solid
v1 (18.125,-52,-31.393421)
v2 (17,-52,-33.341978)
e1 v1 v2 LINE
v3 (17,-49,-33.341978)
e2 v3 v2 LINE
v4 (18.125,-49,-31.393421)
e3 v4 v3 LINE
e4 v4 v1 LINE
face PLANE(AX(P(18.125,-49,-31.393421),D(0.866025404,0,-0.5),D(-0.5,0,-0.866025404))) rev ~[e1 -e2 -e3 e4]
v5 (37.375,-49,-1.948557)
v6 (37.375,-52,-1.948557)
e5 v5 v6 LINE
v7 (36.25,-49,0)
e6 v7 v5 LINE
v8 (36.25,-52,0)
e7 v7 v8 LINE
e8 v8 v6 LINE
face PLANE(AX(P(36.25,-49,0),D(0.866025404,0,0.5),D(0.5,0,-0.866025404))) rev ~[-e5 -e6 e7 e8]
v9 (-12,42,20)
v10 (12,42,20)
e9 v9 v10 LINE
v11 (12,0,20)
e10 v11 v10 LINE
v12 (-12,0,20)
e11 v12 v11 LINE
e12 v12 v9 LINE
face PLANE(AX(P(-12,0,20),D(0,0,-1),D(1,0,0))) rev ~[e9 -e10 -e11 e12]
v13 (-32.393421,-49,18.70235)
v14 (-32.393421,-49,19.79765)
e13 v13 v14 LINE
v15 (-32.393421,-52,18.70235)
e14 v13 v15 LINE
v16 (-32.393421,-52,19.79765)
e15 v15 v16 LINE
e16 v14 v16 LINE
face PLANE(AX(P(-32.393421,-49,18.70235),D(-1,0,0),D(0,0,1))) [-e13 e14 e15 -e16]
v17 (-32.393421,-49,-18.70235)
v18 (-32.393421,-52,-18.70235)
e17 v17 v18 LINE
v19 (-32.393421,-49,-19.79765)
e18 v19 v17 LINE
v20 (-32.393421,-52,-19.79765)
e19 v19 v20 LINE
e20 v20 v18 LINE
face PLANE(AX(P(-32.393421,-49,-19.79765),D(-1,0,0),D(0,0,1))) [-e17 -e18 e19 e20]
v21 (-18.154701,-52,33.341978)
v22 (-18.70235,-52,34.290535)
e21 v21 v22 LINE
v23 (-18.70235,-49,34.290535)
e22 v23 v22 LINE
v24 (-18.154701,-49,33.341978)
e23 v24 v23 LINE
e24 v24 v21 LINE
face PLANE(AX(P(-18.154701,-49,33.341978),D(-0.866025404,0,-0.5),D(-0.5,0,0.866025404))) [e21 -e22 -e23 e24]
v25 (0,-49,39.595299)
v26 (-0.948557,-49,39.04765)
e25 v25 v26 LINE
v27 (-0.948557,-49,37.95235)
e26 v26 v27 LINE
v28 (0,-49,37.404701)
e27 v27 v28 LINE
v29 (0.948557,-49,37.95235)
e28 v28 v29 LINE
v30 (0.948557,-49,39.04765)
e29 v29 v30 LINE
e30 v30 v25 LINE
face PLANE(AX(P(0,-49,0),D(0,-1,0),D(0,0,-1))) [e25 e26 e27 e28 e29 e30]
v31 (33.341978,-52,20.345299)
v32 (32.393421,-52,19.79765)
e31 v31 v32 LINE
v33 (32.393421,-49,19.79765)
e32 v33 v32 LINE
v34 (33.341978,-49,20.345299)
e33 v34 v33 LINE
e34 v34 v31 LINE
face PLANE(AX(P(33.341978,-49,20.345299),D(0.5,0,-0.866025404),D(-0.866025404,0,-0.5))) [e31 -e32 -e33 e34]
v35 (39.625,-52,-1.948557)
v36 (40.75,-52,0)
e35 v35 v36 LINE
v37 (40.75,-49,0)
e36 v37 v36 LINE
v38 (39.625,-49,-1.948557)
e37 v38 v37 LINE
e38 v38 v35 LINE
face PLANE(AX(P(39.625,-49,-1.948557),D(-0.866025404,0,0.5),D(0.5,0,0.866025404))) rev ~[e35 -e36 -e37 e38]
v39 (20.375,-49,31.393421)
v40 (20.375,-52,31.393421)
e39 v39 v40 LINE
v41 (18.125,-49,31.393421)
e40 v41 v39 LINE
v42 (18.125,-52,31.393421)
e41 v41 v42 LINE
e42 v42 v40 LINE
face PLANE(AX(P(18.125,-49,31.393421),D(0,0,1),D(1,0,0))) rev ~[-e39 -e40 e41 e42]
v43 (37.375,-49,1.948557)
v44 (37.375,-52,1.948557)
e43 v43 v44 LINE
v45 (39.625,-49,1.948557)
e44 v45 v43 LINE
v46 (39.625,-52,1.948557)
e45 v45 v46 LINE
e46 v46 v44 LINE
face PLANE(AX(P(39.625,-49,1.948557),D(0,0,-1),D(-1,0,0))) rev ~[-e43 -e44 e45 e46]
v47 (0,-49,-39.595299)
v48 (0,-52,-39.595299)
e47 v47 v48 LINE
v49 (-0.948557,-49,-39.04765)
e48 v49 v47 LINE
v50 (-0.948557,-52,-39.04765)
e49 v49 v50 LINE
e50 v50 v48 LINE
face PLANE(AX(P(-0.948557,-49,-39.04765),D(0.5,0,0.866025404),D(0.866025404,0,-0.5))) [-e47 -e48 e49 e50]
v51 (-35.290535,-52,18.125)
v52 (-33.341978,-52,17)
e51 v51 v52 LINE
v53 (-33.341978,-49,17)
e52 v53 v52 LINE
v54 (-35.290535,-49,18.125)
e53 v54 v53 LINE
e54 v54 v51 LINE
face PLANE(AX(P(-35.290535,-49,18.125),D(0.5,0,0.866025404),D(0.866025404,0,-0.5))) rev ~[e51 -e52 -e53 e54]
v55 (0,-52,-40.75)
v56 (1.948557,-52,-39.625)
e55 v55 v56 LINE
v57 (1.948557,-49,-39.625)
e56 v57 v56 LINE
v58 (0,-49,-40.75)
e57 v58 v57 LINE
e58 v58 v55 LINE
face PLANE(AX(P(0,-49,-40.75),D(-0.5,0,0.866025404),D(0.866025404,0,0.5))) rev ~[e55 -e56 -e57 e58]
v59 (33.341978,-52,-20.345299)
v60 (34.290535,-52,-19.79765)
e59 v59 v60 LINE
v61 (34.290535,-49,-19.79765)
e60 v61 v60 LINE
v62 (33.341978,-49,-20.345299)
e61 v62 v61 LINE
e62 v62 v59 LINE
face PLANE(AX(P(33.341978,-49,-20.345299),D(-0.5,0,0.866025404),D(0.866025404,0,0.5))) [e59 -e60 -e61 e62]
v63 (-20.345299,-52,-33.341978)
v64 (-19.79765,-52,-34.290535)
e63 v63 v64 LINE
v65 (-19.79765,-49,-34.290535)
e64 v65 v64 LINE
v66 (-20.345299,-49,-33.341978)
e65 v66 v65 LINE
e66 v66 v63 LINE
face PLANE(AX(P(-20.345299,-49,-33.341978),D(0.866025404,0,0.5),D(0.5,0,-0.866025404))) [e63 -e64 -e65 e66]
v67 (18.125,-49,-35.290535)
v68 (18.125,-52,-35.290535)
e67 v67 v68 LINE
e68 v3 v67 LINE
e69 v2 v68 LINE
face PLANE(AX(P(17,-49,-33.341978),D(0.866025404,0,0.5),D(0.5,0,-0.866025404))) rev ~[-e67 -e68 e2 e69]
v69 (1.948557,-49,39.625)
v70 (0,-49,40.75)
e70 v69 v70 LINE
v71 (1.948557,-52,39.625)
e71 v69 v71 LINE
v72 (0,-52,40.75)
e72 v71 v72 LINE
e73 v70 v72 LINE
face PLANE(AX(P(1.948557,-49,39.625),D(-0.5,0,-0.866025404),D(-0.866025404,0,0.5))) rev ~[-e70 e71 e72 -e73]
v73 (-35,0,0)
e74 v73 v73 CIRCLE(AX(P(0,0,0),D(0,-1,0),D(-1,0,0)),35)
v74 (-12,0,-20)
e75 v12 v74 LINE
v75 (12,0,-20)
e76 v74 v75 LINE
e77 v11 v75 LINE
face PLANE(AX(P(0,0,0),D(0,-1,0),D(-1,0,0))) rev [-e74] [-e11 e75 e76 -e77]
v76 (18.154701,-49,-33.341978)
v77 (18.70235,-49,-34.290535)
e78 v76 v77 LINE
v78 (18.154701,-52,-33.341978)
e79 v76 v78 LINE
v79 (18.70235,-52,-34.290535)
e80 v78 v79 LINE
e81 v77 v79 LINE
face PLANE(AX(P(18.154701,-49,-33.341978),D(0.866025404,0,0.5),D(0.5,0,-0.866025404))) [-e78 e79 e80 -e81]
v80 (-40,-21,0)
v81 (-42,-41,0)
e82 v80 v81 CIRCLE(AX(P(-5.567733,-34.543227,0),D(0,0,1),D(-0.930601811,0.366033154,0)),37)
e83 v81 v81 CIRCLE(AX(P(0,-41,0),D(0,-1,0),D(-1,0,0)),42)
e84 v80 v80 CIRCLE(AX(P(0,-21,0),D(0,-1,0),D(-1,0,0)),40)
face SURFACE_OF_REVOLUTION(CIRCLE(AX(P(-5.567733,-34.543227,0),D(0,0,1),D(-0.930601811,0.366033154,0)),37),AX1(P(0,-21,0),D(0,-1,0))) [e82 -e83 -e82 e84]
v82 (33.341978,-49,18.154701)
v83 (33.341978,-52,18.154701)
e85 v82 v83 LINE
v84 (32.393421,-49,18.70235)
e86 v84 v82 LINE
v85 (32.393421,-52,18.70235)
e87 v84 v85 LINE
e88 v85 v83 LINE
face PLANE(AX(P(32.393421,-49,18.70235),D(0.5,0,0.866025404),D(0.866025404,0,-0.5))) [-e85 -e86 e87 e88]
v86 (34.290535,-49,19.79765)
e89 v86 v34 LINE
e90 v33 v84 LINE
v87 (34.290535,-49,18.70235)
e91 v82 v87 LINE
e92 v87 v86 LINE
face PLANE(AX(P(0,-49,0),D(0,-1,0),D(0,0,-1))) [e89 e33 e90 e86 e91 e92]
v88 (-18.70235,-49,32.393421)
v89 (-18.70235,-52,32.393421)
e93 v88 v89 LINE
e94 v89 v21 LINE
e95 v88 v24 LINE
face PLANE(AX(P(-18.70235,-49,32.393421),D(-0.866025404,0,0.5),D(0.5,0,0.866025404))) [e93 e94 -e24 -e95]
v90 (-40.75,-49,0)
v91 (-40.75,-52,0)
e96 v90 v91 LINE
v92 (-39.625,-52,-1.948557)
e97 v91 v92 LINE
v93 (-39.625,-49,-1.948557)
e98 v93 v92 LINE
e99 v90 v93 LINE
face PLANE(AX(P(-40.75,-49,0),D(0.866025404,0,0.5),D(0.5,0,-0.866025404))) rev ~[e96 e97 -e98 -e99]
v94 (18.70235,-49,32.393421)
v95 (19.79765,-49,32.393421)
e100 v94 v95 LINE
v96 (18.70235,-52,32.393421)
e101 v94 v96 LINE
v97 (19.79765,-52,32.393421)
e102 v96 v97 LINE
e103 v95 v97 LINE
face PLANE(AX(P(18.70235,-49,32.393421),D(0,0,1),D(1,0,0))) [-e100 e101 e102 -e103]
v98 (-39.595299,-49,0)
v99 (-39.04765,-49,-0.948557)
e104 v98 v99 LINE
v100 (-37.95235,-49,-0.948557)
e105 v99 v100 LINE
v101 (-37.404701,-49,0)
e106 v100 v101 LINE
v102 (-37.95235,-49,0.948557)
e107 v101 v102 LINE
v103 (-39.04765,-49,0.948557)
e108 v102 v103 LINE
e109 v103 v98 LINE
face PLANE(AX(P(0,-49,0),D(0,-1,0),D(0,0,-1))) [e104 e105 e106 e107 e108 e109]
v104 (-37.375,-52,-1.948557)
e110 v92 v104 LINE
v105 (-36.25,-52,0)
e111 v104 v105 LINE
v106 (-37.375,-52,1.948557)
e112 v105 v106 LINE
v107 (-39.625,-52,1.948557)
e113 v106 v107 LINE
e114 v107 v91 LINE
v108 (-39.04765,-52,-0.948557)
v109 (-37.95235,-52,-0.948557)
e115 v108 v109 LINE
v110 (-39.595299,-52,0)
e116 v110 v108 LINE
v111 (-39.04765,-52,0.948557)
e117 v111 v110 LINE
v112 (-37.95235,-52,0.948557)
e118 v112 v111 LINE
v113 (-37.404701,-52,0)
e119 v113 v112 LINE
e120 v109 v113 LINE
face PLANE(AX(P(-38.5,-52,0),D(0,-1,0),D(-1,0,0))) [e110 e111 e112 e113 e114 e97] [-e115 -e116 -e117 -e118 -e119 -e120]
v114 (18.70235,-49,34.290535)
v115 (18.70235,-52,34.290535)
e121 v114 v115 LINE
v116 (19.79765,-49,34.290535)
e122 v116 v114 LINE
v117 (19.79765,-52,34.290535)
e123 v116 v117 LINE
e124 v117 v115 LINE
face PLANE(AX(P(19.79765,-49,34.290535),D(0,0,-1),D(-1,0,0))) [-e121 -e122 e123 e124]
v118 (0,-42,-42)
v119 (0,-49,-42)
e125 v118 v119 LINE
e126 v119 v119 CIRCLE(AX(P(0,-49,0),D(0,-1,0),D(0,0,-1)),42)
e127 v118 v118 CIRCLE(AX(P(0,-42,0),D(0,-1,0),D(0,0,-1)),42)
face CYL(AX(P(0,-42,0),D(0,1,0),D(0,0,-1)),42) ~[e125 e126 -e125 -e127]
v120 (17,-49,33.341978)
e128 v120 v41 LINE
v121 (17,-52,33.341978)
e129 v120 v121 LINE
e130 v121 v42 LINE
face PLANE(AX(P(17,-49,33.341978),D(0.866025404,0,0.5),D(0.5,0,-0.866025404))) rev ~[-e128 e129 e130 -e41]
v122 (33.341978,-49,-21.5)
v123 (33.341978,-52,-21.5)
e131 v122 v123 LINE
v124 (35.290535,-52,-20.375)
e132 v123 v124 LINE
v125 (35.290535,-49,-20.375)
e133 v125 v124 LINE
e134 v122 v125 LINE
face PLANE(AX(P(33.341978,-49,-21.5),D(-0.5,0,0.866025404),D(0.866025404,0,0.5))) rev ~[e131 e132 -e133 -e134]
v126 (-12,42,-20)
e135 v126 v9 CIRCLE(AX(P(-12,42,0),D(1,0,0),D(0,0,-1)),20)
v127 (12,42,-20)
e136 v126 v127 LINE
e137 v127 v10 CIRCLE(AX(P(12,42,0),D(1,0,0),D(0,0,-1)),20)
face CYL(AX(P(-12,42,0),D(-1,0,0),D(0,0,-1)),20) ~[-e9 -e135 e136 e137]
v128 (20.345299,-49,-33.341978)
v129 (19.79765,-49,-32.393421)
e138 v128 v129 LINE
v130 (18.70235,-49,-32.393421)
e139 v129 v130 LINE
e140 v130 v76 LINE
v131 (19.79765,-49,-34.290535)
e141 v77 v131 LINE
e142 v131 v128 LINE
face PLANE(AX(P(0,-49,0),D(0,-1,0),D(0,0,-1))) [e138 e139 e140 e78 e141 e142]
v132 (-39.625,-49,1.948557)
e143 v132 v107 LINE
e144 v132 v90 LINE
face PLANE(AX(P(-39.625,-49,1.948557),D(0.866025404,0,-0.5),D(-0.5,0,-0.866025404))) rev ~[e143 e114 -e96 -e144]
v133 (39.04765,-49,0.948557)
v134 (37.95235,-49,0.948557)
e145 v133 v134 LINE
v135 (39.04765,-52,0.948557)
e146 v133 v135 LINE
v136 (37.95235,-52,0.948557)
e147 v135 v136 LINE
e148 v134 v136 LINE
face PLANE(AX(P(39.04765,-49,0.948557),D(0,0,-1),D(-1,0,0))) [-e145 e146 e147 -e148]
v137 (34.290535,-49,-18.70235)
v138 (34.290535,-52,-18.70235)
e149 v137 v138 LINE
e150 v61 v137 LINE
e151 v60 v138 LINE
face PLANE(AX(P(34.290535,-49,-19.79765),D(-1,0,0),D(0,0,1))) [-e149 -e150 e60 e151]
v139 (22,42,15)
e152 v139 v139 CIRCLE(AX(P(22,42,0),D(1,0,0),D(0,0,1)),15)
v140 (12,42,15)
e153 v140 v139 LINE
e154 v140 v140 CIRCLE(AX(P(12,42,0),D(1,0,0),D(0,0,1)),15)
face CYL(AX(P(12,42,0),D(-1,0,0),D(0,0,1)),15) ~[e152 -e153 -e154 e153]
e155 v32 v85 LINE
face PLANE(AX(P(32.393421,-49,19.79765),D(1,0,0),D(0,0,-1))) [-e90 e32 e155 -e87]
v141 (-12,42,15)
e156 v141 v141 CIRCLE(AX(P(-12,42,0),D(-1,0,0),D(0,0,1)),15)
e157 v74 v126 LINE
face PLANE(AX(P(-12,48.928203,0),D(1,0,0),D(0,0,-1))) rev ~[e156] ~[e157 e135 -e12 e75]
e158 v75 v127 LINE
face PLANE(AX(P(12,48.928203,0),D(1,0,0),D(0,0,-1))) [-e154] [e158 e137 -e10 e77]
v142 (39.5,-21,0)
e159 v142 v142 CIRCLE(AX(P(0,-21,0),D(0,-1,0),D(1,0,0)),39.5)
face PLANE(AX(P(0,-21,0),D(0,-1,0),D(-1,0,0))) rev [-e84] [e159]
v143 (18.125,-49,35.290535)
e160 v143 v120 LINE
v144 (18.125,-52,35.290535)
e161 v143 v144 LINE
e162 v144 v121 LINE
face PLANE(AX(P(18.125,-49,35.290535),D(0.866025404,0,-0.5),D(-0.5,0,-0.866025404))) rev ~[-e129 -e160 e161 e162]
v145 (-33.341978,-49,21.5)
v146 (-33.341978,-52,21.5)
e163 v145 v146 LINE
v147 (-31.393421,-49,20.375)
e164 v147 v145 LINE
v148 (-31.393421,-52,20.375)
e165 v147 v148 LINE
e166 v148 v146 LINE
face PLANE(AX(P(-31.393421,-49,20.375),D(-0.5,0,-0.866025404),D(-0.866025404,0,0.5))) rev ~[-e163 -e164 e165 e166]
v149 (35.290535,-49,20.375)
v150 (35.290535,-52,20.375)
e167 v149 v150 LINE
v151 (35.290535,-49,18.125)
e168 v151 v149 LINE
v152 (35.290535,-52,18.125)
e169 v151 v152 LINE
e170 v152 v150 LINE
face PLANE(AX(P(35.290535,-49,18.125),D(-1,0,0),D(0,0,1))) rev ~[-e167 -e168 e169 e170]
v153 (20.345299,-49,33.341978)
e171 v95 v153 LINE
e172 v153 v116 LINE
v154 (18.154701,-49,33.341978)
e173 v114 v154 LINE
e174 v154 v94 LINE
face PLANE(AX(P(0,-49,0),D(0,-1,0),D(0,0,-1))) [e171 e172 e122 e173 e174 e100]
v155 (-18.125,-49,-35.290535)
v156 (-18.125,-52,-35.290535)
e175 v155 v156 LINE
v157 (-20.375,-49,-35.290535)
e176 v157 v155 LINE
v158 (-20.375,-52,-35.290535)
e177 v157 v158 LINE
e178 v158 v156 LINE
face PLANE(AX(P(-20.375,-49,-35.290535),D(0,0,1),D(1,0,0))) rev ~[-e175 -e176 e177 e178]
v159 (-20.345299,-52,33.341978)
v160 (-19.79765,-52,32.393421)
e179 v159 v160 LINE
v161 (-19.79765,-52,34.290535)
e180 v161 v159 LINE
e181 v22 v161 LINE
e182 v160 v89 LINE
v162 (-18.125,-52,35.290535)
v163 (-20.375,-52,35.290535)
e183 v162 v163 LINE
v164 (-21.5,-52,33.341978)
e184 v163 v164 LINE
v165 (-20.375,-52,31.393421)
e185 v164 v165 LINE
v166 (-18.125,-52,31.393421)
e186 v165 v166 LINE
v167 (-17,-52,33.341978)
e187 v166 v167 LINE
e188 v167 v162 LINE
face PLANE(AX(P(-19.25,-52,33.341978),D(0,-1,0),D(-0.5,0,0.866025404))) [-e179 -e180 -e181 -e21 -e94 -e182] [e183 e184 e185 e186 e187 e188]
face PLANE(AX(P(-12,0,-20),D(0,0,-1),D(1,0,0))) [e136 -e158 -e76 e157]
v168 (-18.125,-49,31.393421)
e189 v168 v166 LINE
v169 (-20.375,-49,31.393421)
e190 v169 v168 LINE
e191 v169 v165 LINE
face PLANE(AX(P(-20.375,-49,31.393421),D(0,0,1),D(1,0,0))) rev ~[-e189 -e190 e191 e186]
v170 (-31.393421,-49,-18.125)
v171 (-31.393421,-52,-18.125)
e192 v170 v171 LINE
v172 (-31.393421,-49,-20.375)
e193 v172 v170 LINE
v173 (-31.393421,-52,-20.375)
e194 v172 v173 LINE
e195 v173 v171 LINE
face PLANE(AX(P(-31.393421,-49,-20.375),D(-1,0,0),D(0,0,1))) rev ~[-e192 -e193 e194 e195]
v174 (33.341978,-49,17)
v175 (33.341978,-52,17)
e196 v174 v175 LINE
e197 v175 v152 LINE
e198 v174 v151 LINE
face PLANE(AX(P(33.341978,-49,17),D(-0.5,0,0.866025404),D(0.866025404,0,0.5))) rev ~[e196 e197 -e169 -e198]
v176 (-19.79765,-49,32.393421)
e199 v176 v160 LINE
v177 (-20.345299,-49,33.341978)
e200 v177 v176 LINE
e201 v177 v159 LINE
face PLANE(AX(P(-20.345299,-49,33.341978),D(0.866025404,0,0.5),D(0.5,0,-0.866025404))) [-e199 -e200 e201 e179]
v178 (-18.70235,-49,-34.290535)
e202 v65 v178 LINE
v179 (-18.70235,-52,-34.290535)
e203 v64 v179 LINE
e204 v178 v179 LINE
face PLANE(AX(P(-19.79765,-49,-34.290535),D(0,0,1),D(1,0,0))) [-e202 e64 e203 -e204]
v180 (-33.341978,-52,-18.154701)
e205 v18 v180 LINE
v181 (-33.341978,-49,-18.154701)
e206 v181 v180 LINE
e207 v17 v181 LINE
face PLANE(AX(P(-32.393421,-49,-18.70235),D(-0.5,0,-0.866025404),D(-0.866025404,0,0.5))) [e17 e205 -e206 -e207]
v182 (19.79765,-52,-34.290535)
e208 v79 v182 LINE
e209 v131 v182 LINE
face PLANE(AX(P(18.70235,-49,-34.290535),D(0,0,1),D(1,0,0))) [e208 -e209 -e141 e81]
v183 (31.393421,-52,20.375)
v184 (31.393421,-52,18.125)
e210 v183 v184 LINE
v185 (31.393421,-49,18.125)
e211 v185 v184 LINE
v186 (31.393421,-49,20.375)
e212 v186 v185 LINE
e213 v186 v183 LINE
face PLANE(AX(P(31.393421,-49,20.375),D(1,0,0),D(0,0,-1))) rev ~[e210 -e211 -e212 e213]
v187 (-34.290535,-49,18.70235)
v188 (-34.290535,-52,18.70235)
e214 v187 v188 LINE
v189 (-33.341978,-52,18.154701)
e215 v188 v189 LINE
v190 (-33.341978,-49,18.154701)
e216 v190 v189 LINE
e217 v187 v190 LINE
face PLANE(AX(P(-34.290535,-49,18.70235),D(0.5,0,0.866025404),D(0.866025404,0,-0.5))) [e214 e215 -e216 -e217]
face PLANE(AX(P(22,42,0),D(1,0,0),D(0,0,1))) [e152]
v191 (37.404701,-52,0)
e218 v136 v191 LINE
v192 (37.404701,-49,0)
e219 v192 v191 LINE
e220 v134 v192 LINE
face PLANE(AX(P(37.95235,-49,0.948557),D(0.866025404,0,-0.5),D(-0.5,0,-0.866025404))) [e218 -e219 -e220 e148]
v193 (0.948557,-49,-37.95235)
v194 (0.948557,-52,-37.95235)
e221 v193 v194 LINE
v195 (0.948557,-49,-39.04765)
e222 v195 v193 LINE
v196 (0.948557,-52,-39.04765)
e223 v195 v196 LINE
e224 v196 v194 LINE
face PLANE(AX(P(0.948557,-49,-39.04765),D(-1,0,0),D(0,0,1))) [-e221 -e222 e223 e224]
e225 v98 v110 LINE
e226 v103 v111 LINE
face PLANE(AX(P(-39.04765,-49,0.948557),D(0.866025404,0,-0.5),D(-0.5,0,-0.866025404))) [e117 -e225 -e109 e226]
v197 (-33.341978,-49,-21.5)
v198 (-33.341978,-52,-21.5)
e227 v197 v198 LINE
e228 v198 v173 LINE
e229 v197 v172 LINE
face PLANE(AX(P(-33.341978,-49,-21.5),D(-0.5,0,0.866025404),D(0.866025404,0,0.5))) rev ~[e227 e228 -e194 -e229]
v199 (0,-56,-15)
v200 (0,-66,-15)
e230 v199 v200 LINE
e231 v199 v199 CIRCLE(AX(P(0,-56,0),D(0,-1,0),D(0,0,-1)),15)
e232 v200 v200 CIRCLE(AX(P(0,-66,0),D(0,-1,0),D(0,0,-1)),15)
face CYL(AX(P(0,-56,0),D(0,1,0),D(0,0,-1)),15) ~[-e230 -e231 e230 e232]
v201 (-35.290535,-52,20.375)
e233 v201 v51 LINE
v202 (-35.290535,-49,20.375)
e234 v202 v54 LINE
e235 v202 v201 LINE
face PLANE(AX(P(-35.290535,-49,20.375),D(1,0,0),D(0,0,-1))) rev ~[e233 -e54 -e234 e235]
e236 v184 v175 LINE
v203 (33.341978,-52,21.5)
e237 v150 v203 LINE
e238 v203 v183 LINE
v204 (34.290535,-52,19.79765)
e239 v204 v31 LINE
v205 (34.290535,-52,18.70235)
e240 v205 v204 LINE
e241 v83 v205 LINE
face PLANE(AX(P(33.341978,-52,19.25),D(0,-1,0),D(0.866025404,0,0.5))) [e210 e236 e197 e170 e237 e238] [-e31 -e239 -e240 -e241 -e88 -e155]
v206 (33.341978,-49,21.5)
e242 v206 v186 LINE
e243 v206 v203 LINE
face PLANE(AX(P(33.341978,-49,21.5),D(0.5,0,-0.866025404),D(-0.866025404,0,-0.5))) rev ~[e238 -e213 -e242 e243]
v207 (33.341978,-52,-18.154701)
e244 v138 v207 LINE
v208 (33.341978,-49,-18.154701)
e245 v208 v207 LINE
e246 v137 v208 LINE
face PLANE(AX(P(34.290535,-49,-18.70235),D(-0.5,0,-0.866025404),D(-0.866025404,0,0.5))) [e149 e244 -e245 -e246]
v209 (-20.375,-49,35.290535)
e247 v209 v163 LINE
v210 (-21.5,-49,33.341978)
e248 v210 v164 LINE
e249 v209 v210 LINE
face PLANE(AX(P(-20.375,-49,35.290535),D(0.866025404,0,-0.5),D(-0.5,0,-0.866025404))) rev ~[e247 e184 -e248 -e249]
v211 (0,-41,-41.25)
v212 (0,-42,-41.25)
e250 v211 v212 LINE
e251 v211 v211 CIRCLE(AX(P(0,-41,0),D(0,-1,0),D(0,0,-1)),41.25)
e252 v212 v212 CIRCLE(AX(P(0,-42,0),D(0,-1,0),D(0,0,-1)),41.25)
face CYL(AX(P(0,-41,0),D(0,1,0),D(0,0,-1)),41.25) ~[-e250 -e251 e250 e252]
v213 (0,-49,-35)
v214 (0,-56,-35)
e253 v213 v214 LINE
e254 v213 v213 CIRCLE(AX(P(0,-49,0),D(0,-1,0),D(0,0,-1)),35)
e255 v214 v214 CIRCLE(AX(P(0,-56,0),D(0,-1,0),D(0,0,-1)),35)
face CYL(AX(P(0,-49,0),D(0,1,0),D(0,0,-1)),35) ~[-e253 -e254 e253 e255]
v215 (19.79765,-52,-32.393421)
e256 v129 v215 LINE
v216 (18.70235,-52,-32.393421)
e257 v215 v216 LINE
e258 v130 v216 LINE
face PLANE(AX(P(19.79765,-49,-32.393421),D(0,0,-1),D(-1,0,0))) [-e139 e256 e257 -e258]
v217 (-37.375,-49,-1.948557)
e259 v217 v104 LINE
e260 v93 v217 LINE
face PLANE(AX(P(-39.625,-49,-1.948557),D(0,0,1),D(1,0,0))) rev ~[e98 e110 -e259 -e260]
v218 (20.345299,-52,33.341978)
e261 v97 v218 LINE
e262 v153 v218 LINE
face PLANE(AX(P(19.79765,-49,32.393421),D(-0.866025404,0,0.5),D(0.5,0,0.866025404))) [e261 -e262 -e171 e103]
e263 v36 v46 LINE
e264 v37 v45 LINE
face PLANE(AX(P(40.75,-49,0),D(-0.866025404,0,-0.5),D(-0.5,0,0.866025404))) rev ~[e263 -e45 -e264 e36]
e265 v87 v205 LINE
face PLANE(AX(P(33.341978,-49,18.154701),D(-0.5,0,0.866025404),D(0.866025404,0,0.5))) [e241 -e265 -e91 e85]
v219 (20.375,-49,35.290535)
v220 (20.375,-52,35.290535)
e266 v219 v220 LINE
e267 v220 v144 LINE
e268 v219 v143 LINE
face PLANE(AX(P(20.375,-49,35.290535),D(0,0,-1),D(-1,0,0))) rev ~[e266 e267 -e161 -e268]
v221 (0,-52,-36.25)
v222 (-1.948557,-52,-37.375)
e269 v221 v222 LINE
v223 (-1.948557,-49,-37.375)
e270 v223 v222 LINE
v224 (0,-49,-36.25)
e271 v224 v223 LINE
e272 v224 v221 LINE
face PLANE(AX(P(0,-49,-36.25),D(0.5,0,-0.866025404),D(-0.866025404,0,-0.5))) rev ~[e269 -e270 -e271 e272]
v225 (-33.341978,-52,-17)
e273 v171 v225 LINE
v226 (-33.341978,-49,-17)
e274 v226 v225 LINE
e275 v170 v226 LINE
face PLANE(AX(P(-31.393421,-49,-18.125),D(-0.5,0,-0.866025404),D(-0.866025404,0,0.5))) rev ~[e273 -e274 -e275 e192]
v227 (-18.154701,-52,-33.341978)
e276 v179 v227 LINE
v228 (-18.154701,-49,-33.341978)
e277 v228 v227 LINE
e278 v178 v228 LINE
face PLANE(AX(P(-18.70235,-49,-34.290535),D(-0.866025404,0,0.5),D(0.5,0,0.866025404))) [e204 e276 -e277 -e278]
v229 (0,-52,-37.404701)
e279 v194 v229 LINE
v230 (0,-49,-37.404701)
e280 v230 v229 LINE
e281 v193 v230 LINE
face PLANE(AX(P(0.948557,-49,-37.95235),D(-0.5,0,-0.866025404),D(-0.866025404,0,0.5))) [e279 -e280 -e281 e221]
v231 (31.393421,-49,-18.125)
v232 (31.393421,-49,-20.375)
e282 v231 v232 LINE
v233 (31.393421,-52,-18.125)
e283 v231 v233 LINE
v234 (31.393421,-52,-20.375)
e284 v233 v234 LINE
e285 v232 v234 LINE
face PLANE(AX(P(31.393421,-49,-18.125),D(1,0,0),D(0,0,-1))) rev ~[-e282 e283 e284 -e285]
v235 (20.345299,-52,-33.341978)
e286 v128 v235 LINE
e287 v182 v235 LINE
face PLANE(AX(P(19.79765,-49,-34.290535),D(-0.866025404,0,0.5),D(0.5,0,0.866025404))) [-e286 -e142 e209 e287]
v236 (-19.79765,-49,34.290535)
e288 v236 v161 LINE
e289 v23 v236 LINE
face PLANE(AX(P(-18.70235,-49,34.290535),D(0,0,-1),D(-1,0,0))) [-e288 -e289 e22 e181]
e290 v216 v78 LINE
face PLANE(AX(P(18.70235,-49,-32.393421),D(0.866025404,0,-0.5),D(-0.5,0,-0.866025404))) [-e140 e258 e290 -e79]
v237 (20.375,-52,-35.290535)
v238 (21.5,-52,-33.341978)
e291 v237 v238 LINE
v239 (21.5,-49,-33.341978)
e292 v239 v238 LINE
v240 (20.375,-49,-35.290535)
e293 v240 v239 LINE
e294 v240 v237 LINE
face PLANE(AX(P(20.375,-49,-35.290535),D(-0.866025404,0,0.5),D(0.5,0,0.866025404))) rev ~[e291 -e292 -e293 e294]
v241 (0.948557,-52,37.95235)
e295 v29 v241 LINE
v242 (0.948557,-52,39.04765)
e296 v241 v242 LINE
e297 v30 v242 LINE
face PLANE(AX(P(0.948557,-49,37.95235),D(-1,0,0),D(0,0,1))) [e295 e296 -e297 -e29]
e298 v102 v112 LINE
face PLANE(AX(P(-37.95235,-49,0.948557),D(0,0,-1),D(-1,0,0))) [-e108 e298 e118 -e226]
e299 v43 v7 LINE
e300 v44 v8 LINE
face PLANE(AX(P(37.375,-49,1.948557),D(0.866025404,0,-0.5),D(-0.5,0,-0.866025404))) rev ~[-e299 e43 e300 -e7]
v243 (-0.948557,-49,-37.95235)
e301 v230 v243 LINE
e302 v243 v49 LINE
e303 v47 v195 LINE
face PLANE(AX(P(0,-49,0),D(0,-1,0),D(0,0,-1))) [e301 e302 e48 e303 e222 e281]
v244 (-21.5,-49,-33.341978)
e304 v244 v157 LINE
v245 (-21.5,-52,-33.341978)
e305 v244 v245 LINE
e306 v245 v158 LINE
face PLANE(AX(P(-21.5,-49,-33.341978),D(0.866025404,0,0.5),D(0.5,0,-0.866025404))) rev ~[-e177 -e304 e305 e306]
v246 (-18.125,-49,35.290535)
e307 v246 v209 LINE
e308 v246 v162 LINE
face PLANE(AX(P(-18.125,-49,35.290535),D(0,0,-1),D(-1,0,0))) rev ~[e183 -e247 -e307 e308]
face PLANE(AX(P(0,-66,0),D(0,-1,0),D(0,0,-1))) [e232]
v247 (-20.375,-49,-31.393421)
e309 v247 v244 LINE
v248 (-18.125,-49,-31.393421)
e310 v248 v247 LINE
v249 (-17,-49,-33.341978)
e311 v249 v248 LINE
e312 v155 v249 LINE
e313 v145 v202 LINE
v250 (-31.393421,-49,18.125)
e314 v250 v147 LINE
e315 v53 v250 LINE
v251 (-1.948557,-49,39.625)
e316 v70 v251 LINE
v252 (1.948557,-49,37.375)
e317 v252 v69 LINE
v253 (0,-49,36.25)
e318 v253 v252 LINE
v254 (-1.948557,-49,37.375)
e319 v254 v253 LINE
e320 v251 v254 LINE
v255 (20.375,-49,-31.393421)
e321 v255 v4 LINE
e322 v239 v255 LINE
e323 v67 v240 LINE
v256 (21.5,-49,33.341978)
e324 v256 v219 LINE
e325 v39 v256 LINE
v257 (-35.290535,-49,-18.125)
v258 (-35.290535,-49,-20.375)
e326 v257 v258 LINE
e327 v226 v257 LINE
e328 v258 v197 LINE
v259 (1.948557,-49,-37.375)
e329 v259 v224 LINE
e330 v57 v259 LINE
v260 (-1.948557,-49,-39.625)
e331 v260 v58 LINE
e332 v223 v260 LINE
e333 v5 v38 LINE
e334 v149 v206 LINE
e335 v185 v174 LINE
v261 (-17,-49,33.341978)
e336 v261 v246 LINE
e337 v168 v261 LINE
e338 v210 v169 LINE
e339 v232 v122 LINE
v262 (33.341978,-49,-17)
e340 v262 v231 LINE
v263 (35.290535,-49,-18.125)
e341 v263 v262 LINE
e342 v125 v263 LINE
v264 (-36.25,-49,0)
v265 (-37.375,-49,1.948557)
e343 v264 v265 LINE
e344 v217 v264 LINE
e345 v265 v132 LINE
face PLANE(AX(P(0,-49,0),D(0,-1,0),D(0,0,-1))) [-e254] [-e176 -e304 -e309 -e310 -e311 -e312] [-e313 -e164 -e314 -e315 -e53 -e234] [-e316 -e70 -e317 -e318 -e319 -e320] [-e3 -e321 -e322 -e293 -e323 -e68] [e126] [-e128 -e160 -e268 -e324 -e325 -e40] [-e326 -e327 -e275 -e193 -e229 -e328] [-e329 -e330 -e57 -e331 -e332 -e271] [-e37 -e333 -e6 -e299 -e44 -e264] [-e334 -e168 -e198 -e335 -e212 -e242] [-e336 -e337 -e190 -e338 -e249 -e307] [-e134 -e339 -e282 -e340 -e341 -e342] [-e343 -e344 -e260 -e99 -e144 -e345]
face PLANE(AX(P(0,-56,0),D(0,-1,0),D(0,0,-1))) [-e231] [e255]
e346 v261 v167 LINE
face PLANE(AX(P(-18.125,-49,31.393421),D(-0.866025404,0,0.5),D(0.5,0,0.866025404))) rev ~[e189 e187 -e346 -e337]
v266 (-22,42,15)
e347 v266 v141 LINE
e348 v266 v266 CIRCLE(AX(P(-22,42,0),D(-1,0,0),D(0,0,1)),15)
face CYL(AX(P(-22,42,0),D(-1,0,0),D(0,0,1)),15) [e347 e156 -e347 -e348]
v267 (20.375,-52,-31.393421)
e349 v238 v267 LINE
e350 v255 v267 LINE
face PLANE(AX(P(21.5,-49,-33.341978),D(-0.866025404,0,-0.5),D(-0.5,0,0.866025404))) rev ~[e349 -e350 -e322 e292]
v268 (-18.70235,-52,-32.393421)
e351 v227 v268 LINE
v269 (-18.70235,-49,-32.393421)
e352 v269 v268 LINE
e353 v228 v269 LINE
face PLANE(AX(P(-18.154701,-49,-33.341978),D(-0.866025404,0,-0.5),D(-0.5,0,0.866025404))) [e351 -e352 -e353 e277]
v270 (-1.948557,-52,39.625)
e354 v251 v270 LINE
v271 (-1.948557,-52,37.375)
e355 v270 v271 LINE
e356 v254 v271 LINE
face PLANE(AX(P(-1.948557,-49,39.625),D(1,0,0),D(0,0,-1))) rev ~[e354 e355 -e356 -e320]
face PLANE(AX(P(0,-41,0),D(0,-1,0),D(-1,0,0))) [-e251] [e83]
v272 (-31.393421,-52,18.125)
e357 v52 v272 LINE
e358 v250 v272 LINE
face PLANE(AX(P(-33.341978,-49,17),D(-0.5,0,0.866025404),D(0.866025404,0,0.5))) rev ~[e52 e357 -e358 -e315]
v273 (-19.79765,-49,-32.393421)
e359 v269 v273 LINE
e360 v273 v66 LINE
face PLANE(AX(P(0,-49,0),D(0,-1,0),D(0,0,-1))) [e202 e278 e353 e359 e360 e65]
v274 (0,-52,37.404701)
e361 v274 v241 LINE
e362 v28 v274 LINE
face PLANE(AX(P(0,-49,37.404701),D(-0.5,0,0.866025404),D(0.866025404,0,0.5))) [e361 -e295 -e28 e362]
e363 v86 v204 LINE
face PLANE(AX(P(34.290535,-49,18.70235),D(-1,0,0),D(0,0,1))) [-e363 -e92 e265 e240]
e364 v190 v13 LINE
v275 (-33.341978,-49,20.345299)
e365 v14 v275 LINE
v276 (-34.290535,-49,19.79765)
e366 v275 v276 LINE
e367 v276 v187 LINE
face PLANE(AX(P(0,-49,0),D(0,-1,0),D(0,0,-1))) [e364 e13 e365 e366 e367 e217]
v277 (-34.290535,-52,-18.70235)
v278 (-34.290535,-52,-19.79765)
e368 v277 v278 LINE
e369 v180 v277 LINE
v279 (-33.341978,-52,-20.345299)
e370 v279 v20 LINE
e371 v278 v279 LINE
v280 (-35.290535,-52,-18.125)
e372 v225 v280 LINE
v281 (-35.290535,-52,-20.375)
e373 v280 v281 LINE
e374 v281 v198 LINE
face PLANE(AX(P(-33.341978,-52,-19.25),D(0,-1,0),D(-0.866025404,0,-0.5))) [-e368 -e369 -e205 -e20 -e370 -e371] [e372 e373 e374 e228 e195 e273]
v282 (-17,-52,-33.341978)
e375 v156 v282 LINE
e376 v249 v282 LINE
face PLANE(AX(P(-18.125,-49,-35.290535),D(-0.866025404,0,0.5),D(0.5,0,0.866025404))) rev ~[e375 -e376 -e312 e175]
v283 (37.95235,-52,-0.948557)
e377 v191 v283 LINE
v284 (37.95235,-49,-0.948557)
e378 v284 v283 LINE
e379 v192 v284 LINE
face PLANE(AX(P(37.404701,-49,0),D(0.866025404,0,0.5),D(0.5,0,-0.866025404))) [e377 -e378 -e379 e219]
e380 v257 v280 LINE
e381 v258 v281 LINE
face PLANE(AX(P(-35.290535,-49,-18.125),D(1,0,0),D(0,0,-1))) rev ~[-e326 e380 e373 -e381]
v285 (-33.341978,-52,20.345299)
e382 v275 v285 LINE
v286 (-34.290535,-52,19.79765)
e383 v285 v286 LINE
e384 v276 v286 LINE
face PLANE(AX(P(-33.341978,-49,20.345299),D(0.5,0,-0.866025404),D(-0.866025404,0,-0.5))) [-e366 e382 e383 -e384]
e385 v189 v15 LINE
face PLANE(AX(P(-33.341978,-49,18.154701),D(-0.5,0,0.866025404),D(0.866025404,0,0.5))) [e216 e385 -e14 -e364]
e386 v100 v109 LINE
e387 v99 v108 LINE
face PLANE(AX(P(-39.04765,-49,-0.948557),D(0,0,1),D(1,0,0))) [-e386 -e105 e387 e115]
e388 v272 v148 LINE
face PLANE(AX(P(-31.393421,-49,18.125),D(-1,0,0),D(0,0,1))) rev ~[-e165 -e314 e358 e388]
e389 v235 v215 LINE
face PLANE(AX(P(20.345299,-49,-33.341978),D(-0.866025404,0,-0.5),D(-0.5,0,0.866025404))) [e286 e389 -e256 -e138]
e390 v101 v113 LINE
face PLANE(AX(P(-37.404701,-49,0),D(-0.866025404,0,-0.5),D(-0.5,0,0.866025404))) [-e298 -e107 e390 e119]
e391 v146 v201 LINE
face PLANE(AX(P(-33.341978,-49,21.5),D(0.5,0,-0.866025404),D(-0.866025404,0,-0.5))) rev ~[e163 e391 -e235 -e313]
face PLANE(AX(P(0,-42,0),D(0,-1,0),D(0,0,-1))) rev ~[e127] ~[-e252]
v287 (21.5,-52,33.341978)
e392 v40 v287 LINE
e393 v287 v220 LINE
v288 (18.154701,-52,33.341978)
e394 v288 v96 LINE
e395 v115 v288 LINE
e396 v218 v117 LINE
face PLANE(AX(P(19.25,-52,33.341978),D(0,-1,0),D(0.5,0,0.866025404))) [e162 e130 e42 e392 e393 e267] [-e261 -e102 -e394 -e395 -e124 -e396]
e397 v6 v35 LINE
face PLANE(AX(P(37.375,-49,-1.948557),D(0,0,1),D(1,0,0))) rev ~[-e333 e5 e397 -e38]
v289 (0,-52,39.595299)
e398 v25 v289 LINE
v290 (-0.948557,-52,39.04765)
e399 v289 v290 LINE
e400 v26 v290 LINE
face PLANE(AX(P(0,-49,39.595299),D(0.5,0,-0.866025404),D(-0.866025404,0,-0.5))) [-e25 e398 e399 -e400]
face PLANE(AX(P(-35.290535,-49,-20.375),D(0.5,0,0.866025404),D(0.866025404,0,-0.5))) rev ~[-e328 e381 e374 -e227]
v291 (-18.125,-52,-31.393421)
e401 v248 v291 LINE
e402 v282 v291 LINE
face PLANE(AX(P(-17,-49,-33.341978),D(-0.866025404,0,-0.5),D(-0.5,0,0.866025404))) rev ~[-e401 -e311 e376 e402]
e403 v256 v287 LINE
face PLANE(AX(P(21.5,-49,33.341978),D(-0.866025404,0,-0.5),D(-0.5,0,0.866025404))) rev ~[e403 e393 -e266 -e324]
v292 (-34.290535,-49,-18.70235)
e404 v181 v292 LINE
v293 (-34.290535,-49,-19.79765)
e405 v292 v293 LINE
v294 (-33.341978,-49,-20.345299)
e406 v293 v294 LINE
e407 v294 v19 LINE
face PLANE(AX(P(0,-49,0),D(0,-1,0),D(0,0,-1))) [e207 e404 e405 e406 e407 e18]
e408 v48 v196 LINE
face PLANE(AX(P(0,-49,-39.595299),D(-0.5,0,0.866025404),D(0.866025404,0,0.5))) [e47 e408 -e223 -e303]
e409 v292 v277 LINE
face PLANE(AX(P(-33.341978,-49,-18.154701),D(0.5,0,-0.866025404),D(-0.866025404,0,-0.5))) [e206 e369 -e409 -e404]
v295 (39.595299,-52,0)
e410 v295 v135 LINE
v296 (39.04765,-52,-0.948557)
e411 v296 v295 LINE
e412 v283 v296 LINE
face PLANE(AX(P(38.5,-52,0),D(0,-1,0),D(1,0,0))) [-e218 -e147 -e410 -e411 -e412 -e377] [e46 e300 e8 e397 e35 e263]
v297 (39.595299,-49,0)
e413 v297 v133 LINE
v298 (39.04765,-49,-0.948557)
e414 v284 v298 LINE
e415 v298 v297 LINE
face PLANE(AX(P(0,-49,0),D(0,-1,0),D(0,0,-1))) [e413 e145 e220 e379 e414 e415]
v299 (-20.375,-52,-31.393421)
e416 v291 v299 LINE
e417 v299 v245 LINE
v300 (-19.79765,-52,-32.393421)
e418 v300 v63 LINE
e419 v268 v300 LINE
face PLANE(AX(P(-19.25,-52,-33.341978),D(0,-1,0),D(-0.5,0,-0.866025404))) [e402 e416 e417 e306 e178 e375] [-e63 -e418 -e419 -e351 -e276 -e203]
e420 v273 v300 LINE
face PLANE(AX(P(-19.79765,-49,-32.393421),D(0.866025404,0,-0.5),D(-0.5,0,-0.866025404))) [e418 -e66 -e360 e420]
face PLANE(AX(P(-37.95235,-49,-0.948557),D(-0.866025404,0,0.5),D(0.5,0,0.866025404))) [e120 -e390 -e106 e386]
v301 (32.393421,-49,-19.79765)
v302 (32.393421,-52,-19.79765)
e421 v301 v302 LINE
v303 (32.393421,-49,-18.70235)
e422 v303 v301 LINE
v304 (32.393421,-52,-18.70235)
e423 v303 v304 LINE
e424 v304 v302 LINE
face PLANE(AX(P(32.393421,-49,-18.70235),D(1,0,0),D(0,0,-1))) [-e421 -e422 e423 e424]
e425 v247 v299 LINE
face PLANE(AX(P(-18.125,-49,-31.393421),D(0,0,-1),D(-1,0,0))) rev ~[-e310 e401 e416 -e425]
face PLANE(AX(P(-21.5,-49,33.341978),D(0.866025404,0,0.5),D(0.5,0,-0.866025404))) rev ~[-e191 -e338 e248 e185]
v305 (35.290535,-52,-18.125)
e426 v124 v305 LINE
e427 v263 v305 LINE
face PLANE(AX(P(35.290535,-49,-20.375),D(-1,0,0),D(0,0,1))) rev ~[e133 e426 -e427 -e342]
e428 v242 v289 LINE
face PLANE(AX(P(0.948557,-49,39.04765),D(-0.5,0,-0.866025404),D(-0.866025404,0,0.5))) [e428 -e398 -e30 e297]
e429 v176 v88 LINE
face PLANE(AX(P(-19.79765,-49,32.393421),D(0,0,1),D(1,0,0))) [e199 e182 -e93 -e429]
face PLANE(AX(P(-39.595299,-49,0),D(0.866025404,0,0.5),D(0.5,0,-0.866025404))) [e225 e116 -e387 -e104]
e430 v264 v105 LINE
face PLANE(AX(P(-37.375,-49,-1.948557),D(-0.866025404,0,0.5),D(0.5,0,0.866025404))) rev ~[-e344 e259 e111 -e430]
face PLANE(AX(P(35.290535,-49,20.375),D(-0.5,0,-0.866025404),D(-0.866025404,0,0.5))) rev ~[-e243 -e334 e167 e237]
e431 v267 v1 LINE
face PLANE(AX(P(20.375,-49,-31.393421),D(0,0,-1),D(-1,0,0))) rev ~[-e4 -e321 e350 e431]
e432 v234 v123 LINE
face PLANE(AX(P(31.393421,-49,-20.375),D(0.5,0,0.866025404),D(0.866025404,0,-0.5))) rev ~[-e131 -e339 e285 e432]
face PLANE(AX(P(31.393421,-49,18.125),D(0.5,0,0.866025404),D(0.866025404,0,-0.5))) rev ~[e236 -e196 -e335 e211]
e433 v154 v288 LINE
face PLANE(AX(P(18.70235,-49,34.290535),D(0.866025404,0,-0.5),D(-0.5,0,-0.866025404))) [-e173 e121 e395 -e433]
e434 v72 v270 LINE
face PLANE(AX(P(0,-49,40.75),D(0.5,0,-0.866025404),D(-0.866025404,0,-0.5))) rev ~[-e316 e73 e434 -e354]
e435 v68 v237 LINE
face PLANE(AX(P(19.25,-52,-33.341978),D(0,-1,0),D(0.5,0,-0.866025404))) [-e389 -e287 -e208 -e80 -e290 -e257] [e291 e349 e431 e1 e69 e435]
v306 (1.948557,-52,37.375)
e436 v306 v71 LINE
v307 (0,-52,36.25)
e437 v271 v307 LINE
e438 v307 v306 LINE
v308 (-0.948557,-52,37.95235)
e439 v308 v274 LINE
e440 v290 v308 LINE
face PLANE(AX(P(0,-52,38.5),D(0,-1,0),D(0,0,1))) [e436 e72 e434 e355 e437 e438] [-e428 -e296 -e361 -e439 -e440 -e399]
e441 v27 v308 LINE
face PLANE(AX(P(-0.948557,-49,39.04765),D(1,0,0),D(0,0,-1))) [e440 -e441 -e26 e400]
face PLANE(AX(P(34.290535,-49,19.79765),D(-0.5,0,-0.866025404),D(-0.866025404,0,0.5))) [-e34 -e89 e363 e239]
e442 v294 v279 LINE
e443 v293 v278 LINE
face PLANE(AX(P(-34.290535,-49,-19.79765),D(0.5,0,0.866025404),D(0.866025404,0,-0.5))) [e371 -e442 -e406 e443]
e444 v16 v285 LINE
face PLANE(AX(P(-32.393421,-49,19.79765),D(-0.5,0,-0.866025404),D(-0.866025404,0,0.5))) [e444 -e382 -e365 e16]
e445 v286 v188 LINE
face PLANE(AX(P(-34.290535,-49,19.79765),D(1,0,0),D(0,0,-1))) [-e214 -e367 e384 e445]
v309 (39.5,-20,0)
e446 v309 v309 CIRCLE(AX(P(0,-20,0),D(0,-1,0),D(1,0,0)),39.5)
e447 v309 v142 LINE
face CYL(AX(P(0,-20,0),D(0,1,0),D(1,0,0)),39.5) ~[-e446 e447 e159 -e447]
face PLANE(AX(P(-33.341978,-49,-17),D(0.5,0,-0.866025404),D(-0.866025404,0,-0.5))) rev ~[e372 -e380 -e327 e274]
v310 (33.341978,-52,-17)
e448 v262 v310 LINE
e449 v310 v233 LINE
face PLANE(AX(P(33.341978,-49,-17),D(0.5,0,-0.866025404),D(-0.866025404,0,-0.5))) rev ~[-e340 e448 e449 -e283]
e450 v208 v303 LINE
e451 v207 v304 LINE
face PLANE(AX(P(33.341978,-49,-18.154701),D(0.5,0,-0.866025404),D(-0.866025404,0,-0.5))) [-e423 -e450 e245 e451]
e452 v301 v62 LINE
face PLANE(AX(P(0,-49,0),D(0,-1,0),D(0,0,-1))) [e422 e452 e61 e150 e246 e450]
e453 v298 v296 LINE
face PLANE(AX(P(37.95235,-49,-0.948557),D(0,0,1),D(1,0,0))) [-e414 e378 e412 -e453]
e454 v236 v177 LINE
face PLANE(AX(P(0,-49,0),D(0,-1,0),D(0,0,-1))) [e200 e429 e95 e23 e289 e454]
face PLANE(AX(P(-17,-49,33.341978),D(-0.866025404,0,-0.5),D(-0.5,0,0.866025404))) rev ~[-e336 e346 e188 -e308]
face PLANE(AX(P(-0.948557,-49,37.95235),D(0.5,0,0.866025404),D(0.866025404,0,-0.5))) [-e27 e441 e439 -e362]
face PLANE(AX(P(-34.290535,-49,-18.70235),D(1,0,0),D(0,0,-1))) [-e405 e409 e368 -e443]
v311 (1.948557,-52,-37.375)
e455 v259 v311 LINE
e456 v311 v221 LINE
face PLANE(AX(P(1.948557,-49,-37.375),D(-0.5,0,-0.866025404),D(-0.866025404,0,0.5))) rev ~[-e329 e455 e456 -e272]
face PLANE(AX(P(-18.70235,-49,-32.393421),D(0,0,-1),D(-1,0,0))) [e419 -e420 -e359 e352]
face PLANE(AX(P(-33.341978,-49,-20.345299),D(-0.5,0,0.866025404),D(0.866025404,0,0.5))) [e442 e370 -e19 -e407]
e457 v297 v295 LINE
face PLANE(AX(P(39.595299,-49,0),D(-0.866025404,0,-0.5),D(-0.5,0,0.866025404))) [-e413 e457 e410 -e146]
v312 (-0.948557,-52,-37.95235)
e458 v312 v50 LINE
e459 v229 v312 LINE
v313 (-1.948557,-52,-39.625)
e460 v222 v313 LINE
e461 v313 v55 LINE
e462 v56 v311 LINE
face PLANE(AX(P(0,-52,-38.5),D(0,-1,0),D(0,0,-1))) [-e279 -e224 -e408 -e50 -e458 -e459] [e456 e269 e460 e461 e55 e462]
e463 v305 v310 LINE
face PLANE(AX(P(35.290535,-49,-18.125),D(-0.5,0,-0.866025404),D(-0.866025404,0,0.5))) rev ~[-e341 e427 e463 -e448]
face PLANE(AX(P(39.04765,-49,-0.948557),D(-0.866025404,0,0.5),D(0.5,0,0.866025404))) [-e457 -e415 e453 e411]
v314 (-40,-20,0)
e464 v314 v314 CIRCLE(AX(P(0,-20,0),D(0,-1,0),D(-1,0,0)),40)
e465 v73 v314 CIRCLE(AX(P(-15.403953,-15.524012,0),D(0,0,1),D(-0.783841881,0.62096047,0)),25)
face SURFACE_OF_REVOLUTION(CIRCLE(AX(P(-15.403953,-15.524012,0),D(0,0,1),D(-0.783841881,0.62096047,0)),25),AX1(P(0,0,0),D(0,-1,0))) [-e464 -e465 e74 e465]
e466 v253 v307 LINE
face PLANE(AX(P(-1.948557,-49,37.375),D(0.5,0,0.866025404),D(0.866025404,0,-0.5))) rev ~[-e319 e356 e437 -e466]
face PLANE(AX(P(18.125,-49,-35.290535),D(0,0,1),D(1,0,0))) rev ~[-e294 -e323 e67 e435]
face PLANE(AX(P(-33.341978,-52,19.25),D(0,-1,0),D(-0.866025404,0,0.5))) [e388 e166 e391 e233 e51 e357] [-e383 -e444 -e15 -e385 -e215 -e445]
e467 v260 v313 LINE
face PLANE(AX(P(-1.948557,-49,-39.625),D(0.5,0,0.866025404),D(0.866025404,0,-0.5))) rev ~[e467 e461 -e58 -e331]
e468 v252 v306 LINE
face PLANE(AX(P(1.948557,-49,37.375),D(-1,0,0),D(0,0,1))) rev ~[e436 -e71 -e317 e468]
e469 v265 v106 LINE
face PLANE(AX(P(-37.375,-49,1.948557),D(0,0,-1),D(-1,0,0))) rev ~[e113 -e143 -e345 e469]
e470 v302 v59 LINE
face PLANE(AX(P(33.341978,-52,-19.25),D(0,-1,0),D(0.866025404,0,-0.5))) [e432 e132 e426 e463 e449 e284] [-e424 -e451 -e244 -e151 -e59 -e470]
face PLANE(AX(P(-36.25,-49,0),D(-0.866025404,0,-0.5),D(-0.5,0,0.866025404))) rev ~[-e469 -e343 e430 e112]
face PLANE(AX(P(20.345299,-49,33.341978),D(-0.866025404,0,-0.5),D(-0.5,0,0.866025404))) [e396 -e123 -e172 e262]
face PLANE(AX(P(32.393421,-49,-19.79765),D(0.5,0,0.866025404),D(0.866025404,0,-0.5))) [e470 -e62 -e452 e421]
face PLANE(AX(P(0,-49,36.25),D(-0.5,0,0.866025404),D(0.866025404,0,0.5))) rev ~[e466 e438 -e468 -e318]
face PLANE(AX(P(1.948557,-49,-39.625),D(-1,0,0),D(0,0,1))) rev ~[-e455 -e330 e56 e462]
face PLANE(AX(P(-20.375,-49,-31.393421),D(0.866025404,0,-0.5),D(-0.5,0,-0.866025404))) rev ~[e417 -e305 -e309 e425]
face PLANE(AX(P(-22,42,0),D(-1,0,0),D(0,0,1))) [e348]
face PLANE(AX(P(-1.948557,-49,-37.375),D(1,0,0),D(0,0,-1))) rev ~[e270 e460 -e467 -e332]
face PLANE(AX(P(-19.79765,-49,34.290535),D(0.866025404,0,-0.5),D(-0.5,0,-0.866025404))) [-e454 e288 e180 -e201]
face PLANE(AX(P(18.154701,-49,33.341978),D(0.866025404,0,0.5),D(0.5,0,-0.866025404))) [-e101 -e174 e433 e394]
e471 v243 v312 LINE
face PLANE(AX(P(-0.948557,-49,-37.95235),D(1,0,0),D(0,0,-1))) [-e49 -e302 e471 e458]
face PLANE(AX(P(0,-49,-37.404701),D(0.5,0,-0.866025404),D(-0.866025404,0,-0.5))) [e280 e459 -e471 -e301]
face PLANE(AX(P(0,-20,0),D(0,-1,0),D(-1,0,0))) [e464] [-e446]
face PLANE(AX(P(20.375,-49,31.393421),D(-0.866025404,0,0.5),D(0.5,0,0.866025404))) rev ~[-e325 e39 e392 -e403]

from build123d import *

# Parameters (mm, degrees)
SKETCH2_R            = 39.5
BOSS_EXTRUDE1_DEPTH  = 1
SKETCH4_R            = 41.25
BOSS_EXTRUDE2_DEPTH  = 1
SKETCH5_R            = 42
BOSS_EXTRUDE3_DEPTH  = 7
SKETCH6_R            = 35
BOSS_EXTRUDE4_DEPTH  = 7
BOSS_EXTRUDE5_DEPTH  = 3
CIRPATTERN1_COUNT    = 12
SKETCH8_R            = 15
BOSS_EXTRUDE6_DEPTH  = 10
SKETCH9_W            = 24
SKETCH9_H            = 40
BOSS_EXTRUDE7_DEPTH  = 42
BOSS_EXTRUDE8_START  = -24
BOSS_EXTRUDE8_DEPTH  = 24
SKETCH11_R           = 15
BOSS_EXTRUDE9_DEPTH  = 10
BOSS_EXTRUDE10_START = 10
SKETCH12_R           = 15
BOSS_EXTRUDE10_DEPTH = 10


with BuildPart() as part:
    # Sketch1 → Revolve1 (revolve)
    with BuildSketch(Plane.XY):
        with BuildLine():
            Line((0, 0), (-35, 0))
            ThreePointArc((-35, 0), (-39.657515479, -9.46062113), (-40, -20))
            Line((-40, -20), (0, -20))
            Line((0, -20), (0, 0))
        make_face()
    revolve(axis=Axis((0, 0, 0), (0, -1, 0)))

    # Sketch2 → Boss-Extrude1 (add)
    with BuildSketch(Plane.XZ.offset(20)):
        Circle(SKETCH2_R)
    extrude(amount=BOSS_EXTRUDE1_DEPTH)

    # Sketch3 → Revolve3 (revolve)
    with BuildSketch(Plane(origin=(0, 0, 0), x_dir=(0, 0, -1), z_dir=(1, 0, 0)), mode=Mode.PRIVATE) as revolve3_sk:
        with BuildLine():
            Line((0, -21), (-40, -21))
            ThreePointArc((-40, -21), (-42.384109041, -30.861589096), (-42, -41))
            Line((-42, -41), (0, -41))
            Line((0, -41), (0, -21))
        make_face()
    revolve(revolve3_sk.sketch.rotate(Axis((0, -21, 0), (0, -1, 0)), 90), axis=Axis((0, -21, 0), (0, -1, 0)))

    # Sketch4 → Boss-Extrude2 (add)
    with BuildSketch(Plane.XZ.offset(41)):
        with Locations(Location((0, 0, 0), (0, 0, 270))):
            Circle(SKETCH4_R)
    extrude(amount=BOSS_EXTRUDE2_DEPTH)

    # Sketch5 → Boss-Extrude3 (add)
    with BuildSketch(Plane.XZ.offset(42)):
        with Locations(Location((0, 0, 0), (0, 0, 270))):
            Circle(SKETCH5_R)
    extrude(amount=BOSS_EXTRUDE3_DEPTH)

    # Sketch6 → Boss-Extrude4 (add)
    with BuildSketch(Plane.XZ.offset(49)):
        with Locations(Location((0, 0, 0), (0, 0, 270))):
            Circle(SKETCH6_R)
    extrude(amount=BOSS_EXTRUDE4_DEPTH)

    # Sketch7 → Boss-Extrude5 (add)
    with BuildSketch(Plane.XZ.offset(49)):
        Polygon((36.25, 0), (37.375, -1.948557159), (39.625, -1.948557159), (40.75, 0), (39.625, 1.948557159), (37.375, 1.948557159), align=None)
        Polygon((37.952350269, 0.948557159), (37.404700538, 0), (37.952350269, -0.948557159), (39.047649731, -0.948557159), (39.595299462, 0), (39.047649731, 0.948557159), align=None, mode=Mode.SUBTRACT)
    boss_extrude5 = extrude(amount=BOSS_EXTRUDE5_DEPTH)

    # CirPattern1: Boss-Extrude5 ×12 about axis
    cirpattern1_axis = Axis((0, 0, 0), (0, 1, 0))
    for i in range(1, CIRPATTERN1_COUNT):
        add(boss_extrude5.rotate(cirpattern1_axis, i * 360 / CIRPATTERN1_COUNT))

    # Sketch8 → Boss-Extrude6 (add)
    with BuildSketch(Plane.XZ.offset(56)):
        with Locations(Location((0, 0, 0), (0, 0, 270))):
            Circle(SKETCH8_R)
    extrude(amount=BOSS_EXTRUDE6_DEPTH)

    # Sketch9 → Boss-Extrude7 (add)
    with BuildSketch(Plane(origin=(0, 0, 0), x_dir=(1, 0, 0), z_dir=(0, 1, 0))):
        Rectangle(SKETCH9_W, SKETCH9_H)
    extrude(amount=BOSS_EXTRUDE7_DEPTH)

    # Sketch10 → Boss-Extrude8 (add)
    with BuildSketch(Plane(origin=(12, 0, 0), x_dir=(0, 0, -1), z_dir=(1, 0, 0)).offset(BOSS_EXTRUDE8_START)):
        with BuildLine():
            Line((-20, 42), (20, 42))
            ThreePointArc((20, 42), (0, 62), (-20, 42))
        make_face()
    extrude(amount=BOSS_EXTRUDE8_DEPTH)

    # Sketch11 → Boss-Extrude9 (add)
    with BuildSketch(Plane(origin=(12, 0, 0), x_dir=(0, 0, -1), z_dir=(1, 0, 0))):
        with Locations(Location((0, 42, 0), (0, 0, 180))):
            Circle(SKETCH11_R)
    extrude(amount=BOSS_EXTRUDE9_DEPTH)

    # Sketch12 → Boss-Extrude10 (add)
    with BuildSketch(Plane.ZY.offset(12).offset(BOSS_EXTRUDE10_START)):
        with Locations((0, 42)):
            Circle(SKETCH12_R)
    extrude(amount=-BOSS_EXTRUDE10_DEPTH)


solid = part.part
